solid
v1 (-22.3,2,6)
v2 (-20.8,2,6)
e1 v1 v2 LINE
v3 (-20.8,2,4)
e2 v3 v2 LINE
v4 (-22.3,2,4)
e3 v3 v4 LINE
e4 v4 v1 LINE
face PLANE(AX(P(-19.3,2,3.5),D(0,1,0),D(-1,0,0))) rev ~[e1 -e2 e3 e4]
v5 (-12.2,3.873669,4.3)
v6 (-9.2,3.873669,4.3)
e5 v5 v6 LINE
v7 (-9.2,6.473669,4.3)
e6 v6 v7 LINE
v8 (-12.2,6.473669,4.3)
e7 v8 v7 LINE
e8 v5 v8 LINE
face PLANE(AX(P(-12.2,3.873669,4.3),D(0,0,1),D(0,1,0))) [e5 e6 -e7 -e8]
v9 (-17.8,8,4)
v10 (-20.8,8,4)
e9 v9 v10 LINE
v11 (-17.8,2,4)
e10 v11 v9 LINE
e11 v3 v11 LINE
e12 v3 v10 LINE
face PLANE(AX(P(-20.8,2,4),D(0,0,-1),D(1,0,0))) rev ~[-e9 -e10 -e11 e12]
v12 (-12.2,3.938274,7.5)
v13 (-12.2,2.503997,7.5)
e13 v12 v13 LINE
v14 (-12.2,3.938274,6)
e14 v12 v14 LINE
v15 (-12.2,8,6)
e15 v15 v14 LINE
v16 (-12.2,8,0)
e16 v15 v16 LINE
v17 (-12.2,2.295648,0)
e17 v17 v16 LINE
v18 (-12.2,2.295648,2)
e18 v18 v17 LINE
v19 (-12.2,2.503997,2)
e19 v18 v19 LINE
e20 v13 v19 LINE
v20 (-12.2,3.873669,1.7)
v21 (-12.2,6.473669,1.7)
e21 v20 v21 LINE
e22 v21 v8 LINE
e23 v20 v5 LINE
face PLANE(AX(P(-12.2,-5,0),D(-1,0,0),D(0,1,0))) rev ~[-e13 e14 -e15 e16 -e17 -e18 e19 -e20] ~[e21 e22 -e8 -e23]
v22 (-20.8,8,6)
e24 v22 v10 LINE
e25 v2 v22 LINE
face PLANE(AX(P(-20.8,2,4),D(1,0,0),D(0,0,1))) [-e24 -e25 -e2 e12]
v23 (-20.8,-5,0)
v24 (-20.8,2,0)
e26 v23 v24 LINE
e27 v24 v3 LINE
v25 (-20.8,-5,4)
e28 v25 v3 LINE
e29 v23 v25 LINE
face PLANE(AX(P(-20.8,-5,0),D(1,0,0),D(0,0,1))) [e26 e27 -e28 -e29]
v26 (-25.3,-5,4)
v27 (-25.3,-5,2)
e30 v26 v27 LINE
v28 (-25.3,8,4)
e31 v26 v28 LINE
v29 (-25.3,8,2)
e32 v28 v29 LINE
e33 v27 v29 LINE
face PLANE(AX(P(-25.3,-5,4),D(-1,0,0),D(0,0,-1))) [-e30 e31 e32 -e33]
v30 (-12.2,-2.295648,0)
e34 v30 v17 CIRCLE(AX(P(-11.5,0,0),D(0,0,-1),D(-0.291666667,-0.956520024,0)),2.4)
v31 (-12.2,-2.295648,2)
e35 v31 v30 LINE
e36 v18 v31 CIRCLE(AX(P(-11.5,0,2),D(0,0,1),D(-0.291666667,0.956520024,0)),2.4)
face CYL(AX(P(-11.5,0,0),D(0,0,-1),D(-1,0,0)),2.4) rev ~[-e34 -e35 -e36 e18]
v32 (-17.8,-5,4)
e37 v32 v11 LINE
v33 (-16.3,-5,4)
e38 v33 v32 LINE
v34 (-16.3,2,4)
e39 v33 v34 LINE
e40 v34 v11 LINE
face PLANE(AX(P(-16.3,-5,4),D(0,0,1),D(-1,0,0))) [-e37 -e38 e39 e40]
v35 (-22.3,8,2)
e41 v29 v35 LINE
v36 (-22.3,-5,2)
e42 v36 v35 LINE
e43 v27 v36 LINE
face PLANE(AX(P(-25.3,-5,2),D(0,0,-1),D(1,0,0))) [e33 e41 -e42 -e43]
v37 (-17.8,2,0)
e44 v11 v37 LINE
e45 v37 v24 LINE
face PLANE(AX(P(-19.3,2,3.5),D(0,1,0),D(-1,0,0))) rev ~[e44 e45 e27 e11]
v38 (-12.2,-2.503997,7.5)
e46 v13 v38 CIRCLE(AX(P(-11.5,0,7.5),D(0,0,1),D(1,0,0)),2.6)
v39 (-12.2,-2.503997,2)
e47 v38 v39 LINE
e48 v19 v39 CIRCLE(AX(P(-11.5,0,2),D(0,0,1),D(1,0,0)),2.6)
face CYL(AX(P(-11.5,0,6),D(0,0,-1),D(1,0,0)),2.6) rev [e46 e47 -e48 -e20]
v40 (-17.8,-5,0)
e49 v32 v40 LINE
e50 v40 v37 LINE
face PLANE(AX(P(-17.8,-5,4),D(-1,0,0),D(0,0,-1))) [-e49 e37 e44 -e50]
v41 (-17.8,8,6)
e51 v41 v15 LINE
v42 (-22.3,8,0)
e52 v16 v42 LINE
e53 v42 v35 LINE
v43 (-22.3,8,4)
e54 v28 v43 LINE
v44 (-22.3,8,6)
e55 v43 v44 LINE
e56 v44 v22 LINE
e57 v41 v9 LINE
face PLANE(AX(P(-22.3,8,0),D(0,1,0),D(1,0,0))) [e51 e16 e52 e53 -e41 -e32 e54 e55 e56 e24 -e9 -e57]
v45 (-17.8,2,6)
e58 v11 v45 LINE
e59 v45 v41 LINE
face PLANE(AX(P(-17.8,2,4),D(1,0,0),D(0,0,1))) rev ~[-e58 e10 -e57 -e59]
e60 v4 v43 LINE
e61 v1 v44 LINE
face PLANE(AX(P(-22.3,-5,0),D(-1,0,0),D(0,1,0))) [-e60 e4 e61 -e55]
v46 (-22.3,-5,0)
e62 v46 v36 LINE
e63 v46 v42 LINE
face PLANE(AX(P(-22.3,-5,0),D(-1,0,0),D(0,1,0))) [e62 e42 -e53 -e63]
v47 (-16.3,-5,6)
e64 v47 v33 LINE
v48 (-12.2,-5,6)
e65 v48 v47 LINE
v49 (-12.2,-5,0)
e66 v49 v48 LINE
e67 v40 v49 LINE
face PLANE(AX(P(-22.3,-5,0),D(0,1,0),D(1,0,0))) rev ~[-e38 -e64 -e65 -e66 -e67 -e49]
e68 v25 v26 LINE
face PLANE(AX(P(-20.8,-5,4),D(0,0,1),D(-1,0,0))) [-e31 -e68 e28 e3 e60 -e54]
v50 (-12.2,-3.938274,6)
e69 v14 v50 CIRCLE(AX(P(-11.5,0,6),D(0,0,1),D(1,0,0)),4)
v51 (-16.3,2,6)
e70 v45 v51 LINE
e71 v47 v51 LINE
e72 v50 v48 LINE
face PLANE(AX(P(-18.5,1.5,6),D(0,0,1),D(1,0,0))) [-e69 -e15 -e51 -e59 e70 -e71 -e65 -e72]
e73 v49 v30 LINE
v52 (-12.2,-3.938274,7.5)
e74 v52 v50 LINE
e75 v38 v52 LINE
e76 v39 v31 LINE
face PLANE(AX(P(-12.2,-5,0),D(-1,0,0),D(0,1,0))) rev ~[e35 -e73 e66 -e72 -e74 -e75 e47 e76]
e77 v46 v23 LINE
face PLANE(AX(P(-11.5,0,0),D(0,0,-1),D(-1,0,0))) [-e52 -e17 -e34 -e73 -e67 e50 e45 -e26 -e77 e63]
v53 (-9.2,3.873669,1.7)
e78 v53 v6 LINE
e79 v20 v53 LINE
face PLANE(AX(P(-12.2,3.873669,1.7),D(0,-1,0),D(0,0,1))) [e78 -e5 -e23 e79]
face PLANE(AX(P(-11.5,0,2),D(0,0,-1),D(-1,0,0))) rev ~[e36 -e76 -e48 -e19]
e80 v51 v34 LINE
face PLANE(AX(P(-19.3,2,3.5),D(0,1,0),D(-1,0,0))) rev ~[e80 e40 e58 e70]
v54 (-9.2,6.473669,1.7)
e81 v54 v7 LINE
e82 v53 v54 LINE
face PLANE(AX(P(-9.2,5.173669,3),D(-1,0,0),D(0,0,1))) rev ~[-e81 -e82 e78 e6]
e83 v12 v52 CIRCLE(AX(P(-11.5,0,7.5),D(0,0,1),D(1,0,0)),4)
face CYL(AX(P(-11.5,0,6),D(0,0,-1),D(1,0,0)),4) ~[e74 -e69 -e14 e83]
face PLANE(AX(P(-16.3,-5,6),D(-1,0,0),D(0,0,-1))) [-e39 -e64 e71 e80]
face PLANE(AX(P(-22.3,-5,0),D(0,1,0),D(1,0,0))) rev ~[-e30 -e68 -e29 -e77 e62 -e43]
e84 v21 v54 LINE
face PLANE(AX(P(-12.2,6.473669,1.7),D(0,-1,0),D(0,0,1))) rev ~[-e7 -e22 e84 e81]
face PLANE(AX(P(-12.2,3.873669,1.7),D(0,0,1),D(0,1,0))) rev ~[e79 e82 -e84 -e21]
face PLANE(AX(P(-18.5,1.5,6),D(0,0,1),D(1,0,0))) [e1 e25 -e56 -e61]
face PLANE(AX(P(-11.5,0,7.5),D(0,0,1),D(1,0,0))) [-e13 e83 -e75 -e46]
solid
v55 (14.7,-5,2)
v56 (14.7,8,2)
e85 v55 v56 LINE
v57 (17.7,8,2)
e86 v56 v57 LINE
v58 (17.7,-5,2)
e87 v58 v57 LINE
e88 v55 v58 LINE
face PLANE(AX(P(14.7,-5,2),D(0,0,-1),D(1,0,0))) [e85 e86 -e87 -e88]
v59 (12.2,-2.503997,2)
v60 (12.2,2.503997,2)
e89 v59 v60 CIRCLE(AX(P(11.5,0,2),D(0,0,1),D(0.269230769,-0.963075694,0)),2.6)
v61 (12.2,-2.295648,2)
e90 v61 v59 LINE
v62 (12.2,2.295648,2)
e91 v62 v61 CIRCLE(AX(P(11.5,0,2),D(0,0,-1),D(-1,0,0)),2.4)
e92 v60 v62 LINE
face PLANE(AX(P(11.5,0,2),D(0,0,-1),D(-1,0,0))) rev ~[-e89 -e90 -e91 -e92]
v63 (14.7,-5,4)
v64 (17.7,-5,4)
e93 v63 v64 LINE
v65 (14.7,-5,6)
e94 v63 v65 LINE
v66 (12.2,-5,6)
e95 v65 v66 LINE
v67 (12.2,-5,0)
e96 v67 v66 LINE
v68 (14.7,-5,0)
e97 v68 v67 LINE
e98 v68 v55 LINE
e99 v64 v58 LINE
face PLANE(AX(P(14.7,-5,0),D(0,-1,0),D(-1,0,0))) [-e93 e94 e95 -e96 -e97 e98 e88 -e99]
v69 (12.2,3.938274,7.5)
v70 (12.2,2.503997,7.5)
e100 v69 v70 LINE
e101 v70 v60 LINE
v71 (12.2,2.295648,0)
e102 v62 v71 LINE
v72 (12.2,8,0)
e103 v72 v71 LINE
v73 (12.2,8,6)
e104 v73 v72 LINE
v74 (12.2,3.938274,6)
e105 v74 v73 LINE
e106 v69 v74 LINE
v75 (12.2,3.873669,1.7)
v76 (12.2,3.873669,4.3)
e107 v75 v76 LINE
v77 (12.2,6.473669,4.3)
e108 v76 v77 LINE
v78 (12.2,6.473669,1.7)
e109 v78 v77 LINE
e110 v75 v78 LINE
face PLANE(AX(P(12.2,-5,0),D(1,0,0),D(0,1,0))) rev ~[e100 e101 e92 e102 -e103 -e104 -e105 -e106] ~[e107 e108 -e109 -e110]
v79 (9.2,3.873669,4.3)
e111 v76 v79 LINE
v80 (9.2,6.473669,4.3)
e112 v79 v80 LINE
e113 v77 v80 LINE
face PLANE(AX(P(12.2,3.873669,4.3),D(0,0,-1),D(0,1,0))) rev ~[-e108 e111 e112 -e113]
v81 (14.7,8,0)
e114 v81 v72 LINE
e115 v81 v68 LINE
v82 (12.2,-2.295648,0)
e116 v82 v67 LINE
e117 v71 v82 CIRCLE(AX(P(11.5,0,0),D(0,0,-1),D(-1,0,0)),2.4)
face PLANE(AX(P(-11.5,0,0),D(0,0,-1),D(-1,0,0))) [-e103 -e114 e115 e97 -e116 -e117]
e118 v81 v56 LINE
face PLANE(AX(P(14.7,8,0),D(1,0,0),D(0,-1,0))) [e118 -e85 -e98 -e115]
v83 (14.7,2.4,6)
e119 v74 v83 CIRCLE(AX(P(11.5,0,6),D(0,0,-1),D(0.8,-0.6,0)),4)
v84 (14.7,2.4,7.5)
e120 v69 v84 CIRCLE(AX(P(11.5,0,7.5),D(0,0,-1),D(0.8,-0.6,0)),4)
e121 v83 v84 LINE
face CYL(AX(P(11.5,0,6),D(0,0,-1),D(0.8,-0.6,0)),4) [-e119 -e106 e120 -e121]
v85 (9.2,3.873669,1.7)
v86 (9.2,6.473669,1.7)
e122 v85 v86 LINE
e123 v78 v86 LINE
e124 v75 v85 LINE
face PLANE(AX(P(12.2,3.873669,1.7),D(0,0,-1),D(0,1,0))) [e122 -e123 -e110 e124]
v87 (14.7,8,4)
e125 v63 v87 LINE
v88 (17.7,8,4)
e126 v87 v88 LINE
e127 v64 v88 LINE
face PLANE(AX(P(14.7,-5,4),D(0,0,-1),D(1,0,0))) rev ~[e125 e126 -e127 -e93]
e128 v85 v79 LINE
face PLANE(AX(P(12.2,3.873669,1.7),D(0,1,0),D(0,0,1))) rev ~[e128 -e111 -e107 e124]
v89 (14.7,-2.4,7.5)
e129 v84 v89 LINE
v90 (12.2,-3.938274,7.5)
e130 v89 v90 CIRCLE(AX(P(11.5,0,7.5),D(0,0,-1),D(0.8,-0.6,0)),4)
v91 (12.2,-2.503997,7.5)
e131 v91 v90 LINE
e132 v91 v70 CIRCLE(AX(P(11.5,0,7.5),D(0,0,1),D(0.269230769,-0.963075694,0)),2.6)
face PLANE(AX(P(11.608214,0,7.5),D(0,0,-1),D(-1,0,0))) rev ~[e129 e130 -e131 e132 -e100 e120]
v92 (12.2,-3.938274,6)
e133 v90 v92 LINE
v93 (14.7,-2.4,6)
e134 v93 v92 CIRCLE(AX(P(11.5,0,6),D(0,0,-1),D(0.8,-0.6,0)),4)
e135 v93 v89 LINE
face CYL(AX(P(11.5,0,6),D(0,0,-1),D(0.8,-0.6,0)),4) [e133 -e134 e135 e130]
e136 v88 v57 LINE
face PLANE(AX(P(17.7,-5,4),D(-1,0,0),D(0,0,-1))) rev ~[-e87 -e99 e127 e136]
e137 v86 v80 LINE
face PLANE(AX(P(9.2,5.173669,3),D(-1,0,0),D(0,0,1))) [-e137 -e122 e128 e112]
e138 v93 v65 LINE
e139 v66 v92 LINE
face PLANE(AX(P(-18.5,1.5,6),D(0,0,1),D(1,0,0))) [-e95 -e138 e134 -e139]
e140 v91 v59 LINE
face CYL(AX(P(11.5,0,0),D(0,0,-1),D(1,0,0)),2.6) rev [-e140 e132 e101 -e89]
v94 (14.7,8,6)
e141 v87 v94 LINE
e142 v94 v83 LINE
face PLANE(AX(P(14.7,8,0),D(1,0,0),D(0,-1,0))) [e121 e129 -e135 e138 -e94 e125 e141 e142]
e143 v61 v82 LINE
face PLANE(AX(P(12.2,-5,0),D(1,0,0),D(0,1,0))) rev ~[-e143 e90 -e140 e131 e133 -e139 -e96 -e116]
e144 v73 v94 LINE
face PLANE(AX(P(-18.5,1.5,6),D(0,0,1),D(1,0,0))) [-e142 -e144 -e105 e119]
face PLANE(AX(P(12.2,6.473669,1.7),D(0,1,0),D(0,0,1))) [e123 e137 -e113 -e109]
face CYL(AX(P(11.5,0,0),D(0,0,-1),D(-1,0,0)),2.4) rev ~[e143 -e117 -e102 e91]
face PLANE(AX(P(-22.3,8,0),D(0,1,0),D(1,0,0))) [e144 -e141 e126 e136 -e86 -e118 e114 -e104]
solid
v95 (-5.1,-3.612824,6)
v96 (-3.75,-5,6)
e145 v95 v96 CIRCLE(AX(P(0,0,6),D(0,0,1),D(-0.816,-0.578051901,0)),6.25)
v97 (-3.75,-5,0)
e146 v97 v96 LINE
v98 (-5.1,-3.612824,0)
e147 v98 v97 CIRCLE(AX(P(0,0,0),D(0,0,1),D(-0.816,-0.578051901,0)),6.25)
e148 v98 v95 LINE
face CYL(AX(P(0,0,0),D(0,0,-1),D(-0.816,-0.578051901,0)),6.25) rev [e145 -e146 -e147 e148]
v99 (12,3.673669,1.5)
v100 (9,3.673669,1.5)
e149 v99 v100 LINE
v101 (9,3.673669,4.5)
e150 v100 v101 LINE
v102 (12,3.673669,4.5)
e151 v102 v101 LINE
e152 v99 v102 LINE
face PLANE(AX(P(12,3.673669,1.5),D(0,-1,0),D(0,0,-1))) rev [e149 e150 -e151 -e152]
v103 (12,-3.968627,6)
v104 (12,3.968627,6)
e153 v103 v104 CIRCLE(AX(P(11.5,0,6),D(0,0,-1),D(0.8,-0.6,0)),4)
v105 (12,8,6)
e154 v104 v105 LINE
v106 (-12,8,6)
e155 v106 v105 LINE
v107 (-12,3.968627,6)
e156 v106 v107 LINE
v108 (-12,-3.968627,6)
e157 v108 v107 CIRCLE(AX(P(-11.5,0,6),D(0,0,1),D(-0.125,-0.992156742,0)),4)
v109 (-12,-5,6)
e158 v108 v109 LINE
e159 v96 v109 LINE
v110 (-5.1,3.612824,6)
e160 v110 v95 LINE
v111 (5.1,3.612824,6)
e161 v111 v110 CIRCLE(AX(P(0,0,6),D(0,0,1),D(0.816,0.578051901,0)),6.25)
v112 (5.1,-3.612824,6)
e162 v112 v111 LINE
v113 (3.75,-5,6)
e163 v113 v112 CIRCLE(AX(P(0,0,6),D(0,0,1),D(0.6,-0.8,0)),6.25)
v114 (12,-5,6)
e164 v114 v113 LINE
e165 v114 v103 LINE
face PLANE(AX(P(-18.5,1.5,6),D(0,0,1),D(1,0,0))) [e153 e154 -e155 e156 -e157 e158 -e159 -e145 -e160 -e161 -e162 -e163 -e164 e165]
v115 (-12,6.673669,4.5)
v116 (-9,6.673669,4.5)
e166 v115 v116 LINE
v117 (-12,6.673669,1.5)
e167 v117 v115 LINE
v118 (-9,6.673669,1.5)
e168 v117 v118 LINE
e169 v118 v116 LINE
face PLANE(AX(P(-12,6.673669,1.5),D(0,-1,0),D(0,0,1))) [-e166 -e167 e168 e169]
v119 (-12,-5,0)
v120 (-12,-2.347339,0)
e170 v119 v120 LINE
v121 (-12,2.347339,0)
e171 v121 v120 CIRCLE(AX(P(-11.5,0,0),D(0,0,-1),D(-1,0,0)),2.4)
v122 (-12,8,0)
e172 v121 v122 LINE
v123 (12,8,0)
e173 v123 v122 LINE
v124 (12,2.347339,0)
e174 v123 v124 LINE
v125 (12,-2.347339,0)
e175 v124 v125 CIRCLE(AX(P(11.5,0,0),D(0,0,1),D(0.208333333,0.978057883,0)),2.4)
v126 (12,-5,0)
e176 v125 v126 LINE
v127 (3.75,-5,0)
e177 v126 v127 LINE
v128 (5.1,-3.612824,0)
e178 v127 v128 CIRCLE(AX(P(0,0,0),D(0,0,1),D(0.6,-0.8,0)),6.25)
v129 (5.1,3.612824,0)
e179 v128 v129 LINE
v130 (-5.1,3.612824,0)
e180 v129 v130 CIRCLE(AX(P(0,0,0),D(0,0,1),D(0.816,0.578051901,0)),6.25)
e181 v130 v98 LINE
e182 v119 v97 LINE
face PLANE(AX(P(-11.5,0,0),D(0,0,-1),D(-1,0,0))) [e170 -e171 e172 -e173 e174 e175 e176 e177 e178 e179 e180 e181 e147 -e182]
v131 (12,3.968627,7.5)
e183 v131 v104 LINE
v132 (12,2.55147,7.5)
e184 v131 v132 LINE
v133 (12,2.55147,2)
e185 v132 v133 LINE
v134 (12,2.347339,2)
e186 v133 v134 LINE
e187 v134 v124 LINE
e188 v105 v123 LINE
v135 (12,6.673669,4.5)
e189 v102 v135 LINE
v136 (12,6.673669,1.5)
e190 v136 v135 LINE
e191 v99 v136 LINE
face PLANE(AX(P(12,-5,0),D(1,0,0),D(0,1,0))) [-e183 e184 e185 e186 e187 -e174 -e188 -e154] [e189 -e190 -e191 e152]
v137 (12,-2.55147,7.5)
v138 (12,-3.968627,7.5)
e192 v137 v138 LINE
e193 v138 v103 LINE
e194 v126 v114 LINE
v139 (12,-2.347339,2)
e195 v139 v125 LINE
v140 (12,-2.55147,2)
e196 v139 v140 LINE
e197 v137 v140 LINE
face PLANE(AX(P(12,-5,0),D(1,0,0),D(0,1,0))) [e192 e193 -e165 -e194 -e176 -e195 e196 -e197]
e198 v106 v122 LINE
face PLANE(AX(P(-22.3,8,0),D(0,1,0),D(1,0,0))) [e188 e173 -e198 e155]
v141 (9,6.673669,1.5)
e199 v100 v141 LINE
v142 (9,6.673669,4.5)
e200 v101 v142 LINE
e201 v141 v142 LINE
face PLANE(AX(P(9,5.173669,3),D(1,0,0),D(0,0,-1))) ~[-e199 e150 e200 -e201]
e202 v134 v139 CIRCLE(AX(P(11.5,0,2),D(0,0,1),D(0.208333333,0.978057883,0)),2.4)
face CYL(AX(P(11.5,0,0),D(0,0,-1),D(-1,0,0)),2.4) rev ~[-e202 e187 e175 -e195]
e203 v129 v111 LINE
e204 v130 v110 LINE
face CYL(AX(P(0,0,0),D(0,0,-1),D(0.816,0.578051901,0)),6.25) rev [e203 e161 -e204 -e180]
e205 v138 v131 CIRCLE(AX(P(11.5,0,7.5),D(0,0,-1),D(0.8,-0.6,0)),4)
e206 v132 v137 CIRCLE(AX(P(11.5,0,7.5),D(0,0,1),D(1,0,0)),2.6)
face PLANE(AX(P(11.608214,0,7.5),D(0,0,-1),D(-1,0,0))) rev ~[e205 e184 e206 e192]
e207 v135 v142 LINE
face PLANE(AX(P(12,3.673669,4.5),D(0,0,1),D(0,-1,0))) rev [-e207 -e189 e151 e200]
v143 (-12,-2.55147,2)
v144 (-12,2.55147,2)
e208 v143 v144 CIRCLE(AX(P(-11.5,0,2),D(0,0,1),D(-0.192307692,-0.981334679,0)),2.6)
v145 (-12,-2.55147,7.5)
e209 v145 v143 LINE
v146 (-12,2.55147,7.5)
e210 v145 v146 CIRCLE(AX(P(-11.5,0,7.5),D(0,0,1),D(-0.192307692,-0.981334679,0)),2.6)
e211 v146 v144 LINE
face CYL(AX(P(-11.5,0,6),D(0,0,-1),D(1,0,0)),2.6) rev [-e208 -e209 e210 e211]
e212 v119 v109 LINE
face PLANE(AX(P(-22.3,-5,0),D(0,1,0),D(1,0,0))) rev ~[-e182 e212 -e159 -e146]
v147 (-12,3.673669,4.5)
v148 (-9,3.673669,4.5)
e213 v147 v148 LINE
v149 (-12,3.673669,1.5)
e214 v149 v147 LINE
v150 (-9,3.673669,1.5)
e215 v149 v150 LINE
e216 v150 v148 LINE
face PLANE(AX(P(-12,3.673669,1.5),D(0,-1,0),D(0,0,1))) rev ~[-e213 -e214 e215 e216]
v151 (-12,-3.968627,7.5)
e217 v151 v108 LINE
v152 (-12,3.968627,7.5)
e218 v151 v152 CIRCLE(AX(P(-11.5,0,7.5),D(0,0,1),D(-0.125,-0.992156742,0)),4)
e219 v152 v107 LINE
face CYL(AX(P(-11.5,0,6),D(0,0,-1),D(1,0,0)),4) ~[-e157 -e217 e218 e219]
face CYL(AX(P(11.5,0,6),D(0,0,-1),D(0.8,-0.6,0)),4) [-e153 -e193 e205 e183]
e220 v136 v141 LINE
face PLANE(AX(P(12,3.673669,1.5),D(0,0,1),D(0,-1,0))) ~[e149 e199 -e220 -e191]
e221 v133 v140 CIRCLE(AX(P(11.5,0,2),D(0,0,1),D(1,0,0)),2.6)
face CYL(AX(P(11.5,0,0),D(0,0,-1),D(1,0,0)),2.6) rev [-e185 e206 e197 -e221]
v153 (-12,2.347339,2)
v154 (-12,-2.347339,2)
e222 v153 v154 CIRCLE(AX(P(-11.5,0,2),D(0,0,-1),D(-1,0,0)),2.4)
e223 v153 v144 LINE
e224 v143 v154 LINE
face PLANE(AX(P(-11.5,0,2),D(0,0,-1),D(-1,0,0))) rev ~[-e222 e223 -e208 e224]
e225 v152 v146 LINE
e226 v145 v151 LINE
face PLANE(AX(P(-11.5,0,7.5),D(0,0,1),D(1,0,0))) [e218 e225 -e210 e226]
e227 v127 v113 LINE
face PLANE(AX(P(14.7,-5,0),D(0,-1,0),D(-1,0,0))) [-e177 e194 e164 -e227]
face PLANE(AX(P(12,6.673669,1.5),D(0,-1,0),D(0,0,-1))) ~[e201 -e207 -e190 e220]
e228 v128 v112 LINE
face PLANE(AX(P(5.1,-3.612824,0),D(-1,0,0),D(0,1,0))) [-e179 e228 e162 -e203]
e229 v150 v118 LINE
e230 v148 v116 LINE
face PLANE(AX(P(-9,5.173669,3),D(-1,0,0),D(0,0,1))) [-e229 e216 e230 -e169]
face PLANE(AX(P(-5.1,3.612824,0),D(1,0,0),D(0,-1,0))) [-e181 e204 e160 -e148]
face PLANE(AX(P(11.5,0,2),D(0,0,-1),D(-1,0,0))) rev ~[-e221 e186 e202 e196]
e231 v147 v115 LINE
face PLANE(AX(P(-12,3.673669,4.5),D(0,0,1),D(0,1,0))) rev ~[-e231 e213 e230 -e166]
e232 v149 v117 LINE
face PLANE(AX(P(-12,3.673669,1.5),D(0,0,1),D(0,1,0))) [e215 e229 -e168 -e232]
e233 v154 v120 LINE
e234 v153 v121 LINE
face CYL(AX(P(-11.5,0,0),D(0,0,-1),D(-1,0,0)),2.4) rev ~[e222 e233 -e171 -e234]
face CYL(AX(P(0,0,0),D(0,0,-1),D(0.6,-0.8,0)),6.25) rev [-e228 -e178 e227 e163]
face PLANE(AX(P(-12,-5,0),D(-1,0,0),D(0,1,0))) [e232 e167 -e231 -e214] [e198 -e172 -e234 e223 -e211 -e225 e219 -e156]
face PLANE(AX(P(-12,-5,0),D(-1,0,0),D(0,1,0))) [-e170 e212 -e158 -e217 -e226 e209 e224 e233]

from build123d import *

# Parameters (mm, degrees)
SKETCH1_R           = 1
BOSS_EXTRUDE1_DEPTH = 6
SKETCH2_R           = 2.6
CUT_EXTRUDE1_DEPTH  = 6
SKETCH3_W           = 7.6
SKETCH3_H           = 13
BOSS_EXTRUDE2_DEPTH = 6
BOSS_EXTRUDE5_START = -5
SKETCH6_W           = 3
SKETCH6_H           = 2
BOSS_EXTRUDE5_DEPTH = 13
SKETCH10_R          = 4
SKETCH10_R_2        = 2.6
BOSS_EXTRUDE6_DEPTH = 1.5
SKETCH12_R          = 2.6
SKETCH12_R_2        = 2.4
BOSS_EXTRUDE7_DEPTH = 2
CUT_EXTRUDE2_DEPTH  = 7
SKETCH14_W          = 3
SKETCH14_H          = 2
CUT_EXTRUDE3_DEPTH  = 7
SKETCH15_W          = 0.2
SKETCH15_H          = 13
CUT_EXTRUDE4_DEPTH  = 9.5
SKETCH16_W          = 3
SKETCH16_H          = 3
CUT_EXTRUDE5_DEPTH  = 3
BOSS_EXTRUDE8_START = 0.2
SKETCH16_3_W        = 2.6
SKETCH16_3_H        = 2.6
BOSS_EXTRUDE8_DEPTH = 3
BOSS_EXTRUDE9_START = -24.2
SKETCH16_4_W        = 2.6
SKETCH16_4_H        = 2.6
BOSS_EXTRUDE9_DEPTH = 3


with BuildPart() as part:
    # Sketch1 → Boss-Extrude1 (new body)
    with BuildSketch(Plane.XY):
        with BuildLine():
            ThreePointArc((3.75, -5), (4.47902769, -4.358991965), (5.1, -3.61282438))
            Line((5.1, -3.61282438), (5.1, 3.61282438))
            ThreePointArc((5.1, 3.61282438), (0, 6.25), (-5.1, 3.61282438))
            Line((-5.1, 3.61282438), (-5.1, -3.61282438))
            ThreePointArc((-5.1, -3.61282438), (-4.47902769, -4.358991965), (-3.75, -5))
            Line((-3.75, -5), (-14.7, -5))
            Line((-14.7, -5), (-14.7, 8))
            Line((-14.7, 8), (14.7, 8))
            Line((14.7, 8), (14.7, -5))
            Line((14.7, -5), (3.75, -5))
        make_face()
        with Locations((11.5, 0)):
            Circle(SKETCH1_R, mode=Mode.SUBTRACT)
        with Locations((-11.5, 0)):
            Circle(SKETCH1_R, mode=Mode.SUBTRACT)
    extrude(amount=BOSS_EXTRUDE1_DEPTH)

    # Sketch2 → Cut-Extrude1 (cut)
    with BuildSketch(Plane.XY):
        with Locations((-11.5, 0)):
            Circle(SKETCH2_R)
        with Locations((11.5, 0)):
            Circle(SKETCH2_R)
    extrude(amount=CUT_EXTRUDE1_DEPTH, mode=Mode.SUBTRACT)

    # Sketch3 → Boss-Extrude2 (add)
    with BuildSketch(Plane.XY):
        with Locations((-18.5, 1.5)):
            Rectangle(SKETCH3_W, SKETCH3_H)
    extrude(amount=BOSS_EXTRUDE2_DEPTH)

    # Sketch6 → Boss-Extrude5 (add)
    with BuildSketch(Plane(origin=(0, 0, 0), x_dir=(1, 0, 0), z_dir=(0, 1, 0)).offset(BOSS_EXTRUDE5_START)):
        with Locations((-23.8, -3)):
            Rectangle(SKETCH6_W, SKETCH6_H)
        with Locations((16.2, -3)):
            Rectangle(SKETCH6_W, SKETCH6_H)
    extrude(amount=BOSS_EXTRUDE5_DEPTH)

    # Sketch10 → Boss-Extrude6 (add)
    with BuildSketch(Plane.XY.offset(6)):
        with Locations((-11.5, 0)):
            Circle(SKETCH10_R)
        with Locations((-11.5, 0)):
            Circle(SKETCH10_R_2, mode=Mode.SUBTRACT)
        with BuildLine():
            Line((14.7, 2.4), (14.7, -2.4))
            ThreePointArc((14.7, -2.4), (7.5, 0), (14.7, 2.4))
        make_face()
        with Locations((11.5, 0)):
            Circle(SKETCH10_R_2, mode=Mode.SUBTRACT)
    extrude(amount=BOSS_EXTRUDE6_DEPTH)

    # Sketch12 → Boss-Extrude7 (add)
    with BuildSketch(Plane(origin=(0, 0, 0), x_dir=(-1, 0, 0), z_dir=(0, 0, -1))):
        with Locations((11.5, 0)):
            Circle(SKETCH12_R)
        with Locations((11.5, 0)):
            Circle(SKETCH12_R_2, mode=Mode.SUBTRACT)
        with Locations((-11.5, 0)):
            Circle(SKETCH12_R)
        with Locations((-11.5, 0)):
            Circle(SKETCH12_R_2, mode=Mode.SUBTRACT)
    extrude(amount=-BOSS_EXTRUDE7_DEPTH)

    # Sketch13 → Cut-Extrude2 (cut)
    with BuildSketch(Plane.XZ.offset(5)):
        Polygon((-22.3, 6), (-16.3, 6), (-16.3, 4), (-17.8, 4), (-17.8, 0), (-20.8, 0), (-20.8, 4), (-22.3, 4), align=None)
    extrude(amount=-CUT_EXTRUDE2_DEPTH, mode=Mode.SUBTRACT)

    # Sketch14 → Cut-Extrude3 (cut)
    with BuildSketch(Plane.XZ.offset(-2)):
        with Locations((-19.3, 5)):
            Rectangle(SKETCH14_W, SKETCH14_H)
    extrude(amount=-CUT_EXTRUDE3_DEPTH, mode=Mode.SUBTRACT)

    # Sketch15 → Cut-Extrude4 (cut, symmetric)
    with BuildSketch(Plane.XY):
        with Locations((-12.1, 1.5)):
            Rectangle(SKETCH15_W, SKETCH15_H)
        with Locations((12.1, 1.5)):
            Rectangle(SKETCH15_W, SKETCH15_H)
    extrude(amount=CUT_EXTRUDE4_DEPTH, both=True, mode=Mode.SUBTRACT)

    # Sketch16 → Cut-Extrude5 (cut)
    with BuildSketch(Plane.ZY.offset(12)):
        with Locations((3, 5.173669459)):
            Rectangle(SKETCH16_W, SKETCH16_H)
    cut_extrude5 = extrude(amount=-CUT_EXTRUDE5_DEPTH, mode=Mode.SUBTRACT)

    # Mirror1: Cut-Extrude5 across plane
    add(cut_extrude5.mirror(Plane(origin=(0, 0, 0), x_dir=(0, 0, 1), z_dir=(1, 0, 0))), mode=Mode.SUBTRACT)

    # Sketch16<3> → Boss-Extrude8 (add)
    with BuildSketch(Plane.ZY.offset(12).offset(BOSS_EXTRUDE8_START)):
        with Locations((3, 5.173669459)):
            Rectangle(SKETCH16_3_W, SKETCH16_3_H)
    extrude(amount=-BOSS_EXTRUDE8_DEPTH)

    # Sketch16<4> → Boss-Extrude9 (add)
    with BuildSketch(Plane.ZY.offset(12).offset(BOSS_EXTRUDE9_START)):
        with Locations((3, 5.173669459)):
            Rectangle(SKETCH16_4_W, SKETCH16_4_H)
    extrude(amount=BOSS_EXTRUDE9_DEPTH)


solid = part.part
